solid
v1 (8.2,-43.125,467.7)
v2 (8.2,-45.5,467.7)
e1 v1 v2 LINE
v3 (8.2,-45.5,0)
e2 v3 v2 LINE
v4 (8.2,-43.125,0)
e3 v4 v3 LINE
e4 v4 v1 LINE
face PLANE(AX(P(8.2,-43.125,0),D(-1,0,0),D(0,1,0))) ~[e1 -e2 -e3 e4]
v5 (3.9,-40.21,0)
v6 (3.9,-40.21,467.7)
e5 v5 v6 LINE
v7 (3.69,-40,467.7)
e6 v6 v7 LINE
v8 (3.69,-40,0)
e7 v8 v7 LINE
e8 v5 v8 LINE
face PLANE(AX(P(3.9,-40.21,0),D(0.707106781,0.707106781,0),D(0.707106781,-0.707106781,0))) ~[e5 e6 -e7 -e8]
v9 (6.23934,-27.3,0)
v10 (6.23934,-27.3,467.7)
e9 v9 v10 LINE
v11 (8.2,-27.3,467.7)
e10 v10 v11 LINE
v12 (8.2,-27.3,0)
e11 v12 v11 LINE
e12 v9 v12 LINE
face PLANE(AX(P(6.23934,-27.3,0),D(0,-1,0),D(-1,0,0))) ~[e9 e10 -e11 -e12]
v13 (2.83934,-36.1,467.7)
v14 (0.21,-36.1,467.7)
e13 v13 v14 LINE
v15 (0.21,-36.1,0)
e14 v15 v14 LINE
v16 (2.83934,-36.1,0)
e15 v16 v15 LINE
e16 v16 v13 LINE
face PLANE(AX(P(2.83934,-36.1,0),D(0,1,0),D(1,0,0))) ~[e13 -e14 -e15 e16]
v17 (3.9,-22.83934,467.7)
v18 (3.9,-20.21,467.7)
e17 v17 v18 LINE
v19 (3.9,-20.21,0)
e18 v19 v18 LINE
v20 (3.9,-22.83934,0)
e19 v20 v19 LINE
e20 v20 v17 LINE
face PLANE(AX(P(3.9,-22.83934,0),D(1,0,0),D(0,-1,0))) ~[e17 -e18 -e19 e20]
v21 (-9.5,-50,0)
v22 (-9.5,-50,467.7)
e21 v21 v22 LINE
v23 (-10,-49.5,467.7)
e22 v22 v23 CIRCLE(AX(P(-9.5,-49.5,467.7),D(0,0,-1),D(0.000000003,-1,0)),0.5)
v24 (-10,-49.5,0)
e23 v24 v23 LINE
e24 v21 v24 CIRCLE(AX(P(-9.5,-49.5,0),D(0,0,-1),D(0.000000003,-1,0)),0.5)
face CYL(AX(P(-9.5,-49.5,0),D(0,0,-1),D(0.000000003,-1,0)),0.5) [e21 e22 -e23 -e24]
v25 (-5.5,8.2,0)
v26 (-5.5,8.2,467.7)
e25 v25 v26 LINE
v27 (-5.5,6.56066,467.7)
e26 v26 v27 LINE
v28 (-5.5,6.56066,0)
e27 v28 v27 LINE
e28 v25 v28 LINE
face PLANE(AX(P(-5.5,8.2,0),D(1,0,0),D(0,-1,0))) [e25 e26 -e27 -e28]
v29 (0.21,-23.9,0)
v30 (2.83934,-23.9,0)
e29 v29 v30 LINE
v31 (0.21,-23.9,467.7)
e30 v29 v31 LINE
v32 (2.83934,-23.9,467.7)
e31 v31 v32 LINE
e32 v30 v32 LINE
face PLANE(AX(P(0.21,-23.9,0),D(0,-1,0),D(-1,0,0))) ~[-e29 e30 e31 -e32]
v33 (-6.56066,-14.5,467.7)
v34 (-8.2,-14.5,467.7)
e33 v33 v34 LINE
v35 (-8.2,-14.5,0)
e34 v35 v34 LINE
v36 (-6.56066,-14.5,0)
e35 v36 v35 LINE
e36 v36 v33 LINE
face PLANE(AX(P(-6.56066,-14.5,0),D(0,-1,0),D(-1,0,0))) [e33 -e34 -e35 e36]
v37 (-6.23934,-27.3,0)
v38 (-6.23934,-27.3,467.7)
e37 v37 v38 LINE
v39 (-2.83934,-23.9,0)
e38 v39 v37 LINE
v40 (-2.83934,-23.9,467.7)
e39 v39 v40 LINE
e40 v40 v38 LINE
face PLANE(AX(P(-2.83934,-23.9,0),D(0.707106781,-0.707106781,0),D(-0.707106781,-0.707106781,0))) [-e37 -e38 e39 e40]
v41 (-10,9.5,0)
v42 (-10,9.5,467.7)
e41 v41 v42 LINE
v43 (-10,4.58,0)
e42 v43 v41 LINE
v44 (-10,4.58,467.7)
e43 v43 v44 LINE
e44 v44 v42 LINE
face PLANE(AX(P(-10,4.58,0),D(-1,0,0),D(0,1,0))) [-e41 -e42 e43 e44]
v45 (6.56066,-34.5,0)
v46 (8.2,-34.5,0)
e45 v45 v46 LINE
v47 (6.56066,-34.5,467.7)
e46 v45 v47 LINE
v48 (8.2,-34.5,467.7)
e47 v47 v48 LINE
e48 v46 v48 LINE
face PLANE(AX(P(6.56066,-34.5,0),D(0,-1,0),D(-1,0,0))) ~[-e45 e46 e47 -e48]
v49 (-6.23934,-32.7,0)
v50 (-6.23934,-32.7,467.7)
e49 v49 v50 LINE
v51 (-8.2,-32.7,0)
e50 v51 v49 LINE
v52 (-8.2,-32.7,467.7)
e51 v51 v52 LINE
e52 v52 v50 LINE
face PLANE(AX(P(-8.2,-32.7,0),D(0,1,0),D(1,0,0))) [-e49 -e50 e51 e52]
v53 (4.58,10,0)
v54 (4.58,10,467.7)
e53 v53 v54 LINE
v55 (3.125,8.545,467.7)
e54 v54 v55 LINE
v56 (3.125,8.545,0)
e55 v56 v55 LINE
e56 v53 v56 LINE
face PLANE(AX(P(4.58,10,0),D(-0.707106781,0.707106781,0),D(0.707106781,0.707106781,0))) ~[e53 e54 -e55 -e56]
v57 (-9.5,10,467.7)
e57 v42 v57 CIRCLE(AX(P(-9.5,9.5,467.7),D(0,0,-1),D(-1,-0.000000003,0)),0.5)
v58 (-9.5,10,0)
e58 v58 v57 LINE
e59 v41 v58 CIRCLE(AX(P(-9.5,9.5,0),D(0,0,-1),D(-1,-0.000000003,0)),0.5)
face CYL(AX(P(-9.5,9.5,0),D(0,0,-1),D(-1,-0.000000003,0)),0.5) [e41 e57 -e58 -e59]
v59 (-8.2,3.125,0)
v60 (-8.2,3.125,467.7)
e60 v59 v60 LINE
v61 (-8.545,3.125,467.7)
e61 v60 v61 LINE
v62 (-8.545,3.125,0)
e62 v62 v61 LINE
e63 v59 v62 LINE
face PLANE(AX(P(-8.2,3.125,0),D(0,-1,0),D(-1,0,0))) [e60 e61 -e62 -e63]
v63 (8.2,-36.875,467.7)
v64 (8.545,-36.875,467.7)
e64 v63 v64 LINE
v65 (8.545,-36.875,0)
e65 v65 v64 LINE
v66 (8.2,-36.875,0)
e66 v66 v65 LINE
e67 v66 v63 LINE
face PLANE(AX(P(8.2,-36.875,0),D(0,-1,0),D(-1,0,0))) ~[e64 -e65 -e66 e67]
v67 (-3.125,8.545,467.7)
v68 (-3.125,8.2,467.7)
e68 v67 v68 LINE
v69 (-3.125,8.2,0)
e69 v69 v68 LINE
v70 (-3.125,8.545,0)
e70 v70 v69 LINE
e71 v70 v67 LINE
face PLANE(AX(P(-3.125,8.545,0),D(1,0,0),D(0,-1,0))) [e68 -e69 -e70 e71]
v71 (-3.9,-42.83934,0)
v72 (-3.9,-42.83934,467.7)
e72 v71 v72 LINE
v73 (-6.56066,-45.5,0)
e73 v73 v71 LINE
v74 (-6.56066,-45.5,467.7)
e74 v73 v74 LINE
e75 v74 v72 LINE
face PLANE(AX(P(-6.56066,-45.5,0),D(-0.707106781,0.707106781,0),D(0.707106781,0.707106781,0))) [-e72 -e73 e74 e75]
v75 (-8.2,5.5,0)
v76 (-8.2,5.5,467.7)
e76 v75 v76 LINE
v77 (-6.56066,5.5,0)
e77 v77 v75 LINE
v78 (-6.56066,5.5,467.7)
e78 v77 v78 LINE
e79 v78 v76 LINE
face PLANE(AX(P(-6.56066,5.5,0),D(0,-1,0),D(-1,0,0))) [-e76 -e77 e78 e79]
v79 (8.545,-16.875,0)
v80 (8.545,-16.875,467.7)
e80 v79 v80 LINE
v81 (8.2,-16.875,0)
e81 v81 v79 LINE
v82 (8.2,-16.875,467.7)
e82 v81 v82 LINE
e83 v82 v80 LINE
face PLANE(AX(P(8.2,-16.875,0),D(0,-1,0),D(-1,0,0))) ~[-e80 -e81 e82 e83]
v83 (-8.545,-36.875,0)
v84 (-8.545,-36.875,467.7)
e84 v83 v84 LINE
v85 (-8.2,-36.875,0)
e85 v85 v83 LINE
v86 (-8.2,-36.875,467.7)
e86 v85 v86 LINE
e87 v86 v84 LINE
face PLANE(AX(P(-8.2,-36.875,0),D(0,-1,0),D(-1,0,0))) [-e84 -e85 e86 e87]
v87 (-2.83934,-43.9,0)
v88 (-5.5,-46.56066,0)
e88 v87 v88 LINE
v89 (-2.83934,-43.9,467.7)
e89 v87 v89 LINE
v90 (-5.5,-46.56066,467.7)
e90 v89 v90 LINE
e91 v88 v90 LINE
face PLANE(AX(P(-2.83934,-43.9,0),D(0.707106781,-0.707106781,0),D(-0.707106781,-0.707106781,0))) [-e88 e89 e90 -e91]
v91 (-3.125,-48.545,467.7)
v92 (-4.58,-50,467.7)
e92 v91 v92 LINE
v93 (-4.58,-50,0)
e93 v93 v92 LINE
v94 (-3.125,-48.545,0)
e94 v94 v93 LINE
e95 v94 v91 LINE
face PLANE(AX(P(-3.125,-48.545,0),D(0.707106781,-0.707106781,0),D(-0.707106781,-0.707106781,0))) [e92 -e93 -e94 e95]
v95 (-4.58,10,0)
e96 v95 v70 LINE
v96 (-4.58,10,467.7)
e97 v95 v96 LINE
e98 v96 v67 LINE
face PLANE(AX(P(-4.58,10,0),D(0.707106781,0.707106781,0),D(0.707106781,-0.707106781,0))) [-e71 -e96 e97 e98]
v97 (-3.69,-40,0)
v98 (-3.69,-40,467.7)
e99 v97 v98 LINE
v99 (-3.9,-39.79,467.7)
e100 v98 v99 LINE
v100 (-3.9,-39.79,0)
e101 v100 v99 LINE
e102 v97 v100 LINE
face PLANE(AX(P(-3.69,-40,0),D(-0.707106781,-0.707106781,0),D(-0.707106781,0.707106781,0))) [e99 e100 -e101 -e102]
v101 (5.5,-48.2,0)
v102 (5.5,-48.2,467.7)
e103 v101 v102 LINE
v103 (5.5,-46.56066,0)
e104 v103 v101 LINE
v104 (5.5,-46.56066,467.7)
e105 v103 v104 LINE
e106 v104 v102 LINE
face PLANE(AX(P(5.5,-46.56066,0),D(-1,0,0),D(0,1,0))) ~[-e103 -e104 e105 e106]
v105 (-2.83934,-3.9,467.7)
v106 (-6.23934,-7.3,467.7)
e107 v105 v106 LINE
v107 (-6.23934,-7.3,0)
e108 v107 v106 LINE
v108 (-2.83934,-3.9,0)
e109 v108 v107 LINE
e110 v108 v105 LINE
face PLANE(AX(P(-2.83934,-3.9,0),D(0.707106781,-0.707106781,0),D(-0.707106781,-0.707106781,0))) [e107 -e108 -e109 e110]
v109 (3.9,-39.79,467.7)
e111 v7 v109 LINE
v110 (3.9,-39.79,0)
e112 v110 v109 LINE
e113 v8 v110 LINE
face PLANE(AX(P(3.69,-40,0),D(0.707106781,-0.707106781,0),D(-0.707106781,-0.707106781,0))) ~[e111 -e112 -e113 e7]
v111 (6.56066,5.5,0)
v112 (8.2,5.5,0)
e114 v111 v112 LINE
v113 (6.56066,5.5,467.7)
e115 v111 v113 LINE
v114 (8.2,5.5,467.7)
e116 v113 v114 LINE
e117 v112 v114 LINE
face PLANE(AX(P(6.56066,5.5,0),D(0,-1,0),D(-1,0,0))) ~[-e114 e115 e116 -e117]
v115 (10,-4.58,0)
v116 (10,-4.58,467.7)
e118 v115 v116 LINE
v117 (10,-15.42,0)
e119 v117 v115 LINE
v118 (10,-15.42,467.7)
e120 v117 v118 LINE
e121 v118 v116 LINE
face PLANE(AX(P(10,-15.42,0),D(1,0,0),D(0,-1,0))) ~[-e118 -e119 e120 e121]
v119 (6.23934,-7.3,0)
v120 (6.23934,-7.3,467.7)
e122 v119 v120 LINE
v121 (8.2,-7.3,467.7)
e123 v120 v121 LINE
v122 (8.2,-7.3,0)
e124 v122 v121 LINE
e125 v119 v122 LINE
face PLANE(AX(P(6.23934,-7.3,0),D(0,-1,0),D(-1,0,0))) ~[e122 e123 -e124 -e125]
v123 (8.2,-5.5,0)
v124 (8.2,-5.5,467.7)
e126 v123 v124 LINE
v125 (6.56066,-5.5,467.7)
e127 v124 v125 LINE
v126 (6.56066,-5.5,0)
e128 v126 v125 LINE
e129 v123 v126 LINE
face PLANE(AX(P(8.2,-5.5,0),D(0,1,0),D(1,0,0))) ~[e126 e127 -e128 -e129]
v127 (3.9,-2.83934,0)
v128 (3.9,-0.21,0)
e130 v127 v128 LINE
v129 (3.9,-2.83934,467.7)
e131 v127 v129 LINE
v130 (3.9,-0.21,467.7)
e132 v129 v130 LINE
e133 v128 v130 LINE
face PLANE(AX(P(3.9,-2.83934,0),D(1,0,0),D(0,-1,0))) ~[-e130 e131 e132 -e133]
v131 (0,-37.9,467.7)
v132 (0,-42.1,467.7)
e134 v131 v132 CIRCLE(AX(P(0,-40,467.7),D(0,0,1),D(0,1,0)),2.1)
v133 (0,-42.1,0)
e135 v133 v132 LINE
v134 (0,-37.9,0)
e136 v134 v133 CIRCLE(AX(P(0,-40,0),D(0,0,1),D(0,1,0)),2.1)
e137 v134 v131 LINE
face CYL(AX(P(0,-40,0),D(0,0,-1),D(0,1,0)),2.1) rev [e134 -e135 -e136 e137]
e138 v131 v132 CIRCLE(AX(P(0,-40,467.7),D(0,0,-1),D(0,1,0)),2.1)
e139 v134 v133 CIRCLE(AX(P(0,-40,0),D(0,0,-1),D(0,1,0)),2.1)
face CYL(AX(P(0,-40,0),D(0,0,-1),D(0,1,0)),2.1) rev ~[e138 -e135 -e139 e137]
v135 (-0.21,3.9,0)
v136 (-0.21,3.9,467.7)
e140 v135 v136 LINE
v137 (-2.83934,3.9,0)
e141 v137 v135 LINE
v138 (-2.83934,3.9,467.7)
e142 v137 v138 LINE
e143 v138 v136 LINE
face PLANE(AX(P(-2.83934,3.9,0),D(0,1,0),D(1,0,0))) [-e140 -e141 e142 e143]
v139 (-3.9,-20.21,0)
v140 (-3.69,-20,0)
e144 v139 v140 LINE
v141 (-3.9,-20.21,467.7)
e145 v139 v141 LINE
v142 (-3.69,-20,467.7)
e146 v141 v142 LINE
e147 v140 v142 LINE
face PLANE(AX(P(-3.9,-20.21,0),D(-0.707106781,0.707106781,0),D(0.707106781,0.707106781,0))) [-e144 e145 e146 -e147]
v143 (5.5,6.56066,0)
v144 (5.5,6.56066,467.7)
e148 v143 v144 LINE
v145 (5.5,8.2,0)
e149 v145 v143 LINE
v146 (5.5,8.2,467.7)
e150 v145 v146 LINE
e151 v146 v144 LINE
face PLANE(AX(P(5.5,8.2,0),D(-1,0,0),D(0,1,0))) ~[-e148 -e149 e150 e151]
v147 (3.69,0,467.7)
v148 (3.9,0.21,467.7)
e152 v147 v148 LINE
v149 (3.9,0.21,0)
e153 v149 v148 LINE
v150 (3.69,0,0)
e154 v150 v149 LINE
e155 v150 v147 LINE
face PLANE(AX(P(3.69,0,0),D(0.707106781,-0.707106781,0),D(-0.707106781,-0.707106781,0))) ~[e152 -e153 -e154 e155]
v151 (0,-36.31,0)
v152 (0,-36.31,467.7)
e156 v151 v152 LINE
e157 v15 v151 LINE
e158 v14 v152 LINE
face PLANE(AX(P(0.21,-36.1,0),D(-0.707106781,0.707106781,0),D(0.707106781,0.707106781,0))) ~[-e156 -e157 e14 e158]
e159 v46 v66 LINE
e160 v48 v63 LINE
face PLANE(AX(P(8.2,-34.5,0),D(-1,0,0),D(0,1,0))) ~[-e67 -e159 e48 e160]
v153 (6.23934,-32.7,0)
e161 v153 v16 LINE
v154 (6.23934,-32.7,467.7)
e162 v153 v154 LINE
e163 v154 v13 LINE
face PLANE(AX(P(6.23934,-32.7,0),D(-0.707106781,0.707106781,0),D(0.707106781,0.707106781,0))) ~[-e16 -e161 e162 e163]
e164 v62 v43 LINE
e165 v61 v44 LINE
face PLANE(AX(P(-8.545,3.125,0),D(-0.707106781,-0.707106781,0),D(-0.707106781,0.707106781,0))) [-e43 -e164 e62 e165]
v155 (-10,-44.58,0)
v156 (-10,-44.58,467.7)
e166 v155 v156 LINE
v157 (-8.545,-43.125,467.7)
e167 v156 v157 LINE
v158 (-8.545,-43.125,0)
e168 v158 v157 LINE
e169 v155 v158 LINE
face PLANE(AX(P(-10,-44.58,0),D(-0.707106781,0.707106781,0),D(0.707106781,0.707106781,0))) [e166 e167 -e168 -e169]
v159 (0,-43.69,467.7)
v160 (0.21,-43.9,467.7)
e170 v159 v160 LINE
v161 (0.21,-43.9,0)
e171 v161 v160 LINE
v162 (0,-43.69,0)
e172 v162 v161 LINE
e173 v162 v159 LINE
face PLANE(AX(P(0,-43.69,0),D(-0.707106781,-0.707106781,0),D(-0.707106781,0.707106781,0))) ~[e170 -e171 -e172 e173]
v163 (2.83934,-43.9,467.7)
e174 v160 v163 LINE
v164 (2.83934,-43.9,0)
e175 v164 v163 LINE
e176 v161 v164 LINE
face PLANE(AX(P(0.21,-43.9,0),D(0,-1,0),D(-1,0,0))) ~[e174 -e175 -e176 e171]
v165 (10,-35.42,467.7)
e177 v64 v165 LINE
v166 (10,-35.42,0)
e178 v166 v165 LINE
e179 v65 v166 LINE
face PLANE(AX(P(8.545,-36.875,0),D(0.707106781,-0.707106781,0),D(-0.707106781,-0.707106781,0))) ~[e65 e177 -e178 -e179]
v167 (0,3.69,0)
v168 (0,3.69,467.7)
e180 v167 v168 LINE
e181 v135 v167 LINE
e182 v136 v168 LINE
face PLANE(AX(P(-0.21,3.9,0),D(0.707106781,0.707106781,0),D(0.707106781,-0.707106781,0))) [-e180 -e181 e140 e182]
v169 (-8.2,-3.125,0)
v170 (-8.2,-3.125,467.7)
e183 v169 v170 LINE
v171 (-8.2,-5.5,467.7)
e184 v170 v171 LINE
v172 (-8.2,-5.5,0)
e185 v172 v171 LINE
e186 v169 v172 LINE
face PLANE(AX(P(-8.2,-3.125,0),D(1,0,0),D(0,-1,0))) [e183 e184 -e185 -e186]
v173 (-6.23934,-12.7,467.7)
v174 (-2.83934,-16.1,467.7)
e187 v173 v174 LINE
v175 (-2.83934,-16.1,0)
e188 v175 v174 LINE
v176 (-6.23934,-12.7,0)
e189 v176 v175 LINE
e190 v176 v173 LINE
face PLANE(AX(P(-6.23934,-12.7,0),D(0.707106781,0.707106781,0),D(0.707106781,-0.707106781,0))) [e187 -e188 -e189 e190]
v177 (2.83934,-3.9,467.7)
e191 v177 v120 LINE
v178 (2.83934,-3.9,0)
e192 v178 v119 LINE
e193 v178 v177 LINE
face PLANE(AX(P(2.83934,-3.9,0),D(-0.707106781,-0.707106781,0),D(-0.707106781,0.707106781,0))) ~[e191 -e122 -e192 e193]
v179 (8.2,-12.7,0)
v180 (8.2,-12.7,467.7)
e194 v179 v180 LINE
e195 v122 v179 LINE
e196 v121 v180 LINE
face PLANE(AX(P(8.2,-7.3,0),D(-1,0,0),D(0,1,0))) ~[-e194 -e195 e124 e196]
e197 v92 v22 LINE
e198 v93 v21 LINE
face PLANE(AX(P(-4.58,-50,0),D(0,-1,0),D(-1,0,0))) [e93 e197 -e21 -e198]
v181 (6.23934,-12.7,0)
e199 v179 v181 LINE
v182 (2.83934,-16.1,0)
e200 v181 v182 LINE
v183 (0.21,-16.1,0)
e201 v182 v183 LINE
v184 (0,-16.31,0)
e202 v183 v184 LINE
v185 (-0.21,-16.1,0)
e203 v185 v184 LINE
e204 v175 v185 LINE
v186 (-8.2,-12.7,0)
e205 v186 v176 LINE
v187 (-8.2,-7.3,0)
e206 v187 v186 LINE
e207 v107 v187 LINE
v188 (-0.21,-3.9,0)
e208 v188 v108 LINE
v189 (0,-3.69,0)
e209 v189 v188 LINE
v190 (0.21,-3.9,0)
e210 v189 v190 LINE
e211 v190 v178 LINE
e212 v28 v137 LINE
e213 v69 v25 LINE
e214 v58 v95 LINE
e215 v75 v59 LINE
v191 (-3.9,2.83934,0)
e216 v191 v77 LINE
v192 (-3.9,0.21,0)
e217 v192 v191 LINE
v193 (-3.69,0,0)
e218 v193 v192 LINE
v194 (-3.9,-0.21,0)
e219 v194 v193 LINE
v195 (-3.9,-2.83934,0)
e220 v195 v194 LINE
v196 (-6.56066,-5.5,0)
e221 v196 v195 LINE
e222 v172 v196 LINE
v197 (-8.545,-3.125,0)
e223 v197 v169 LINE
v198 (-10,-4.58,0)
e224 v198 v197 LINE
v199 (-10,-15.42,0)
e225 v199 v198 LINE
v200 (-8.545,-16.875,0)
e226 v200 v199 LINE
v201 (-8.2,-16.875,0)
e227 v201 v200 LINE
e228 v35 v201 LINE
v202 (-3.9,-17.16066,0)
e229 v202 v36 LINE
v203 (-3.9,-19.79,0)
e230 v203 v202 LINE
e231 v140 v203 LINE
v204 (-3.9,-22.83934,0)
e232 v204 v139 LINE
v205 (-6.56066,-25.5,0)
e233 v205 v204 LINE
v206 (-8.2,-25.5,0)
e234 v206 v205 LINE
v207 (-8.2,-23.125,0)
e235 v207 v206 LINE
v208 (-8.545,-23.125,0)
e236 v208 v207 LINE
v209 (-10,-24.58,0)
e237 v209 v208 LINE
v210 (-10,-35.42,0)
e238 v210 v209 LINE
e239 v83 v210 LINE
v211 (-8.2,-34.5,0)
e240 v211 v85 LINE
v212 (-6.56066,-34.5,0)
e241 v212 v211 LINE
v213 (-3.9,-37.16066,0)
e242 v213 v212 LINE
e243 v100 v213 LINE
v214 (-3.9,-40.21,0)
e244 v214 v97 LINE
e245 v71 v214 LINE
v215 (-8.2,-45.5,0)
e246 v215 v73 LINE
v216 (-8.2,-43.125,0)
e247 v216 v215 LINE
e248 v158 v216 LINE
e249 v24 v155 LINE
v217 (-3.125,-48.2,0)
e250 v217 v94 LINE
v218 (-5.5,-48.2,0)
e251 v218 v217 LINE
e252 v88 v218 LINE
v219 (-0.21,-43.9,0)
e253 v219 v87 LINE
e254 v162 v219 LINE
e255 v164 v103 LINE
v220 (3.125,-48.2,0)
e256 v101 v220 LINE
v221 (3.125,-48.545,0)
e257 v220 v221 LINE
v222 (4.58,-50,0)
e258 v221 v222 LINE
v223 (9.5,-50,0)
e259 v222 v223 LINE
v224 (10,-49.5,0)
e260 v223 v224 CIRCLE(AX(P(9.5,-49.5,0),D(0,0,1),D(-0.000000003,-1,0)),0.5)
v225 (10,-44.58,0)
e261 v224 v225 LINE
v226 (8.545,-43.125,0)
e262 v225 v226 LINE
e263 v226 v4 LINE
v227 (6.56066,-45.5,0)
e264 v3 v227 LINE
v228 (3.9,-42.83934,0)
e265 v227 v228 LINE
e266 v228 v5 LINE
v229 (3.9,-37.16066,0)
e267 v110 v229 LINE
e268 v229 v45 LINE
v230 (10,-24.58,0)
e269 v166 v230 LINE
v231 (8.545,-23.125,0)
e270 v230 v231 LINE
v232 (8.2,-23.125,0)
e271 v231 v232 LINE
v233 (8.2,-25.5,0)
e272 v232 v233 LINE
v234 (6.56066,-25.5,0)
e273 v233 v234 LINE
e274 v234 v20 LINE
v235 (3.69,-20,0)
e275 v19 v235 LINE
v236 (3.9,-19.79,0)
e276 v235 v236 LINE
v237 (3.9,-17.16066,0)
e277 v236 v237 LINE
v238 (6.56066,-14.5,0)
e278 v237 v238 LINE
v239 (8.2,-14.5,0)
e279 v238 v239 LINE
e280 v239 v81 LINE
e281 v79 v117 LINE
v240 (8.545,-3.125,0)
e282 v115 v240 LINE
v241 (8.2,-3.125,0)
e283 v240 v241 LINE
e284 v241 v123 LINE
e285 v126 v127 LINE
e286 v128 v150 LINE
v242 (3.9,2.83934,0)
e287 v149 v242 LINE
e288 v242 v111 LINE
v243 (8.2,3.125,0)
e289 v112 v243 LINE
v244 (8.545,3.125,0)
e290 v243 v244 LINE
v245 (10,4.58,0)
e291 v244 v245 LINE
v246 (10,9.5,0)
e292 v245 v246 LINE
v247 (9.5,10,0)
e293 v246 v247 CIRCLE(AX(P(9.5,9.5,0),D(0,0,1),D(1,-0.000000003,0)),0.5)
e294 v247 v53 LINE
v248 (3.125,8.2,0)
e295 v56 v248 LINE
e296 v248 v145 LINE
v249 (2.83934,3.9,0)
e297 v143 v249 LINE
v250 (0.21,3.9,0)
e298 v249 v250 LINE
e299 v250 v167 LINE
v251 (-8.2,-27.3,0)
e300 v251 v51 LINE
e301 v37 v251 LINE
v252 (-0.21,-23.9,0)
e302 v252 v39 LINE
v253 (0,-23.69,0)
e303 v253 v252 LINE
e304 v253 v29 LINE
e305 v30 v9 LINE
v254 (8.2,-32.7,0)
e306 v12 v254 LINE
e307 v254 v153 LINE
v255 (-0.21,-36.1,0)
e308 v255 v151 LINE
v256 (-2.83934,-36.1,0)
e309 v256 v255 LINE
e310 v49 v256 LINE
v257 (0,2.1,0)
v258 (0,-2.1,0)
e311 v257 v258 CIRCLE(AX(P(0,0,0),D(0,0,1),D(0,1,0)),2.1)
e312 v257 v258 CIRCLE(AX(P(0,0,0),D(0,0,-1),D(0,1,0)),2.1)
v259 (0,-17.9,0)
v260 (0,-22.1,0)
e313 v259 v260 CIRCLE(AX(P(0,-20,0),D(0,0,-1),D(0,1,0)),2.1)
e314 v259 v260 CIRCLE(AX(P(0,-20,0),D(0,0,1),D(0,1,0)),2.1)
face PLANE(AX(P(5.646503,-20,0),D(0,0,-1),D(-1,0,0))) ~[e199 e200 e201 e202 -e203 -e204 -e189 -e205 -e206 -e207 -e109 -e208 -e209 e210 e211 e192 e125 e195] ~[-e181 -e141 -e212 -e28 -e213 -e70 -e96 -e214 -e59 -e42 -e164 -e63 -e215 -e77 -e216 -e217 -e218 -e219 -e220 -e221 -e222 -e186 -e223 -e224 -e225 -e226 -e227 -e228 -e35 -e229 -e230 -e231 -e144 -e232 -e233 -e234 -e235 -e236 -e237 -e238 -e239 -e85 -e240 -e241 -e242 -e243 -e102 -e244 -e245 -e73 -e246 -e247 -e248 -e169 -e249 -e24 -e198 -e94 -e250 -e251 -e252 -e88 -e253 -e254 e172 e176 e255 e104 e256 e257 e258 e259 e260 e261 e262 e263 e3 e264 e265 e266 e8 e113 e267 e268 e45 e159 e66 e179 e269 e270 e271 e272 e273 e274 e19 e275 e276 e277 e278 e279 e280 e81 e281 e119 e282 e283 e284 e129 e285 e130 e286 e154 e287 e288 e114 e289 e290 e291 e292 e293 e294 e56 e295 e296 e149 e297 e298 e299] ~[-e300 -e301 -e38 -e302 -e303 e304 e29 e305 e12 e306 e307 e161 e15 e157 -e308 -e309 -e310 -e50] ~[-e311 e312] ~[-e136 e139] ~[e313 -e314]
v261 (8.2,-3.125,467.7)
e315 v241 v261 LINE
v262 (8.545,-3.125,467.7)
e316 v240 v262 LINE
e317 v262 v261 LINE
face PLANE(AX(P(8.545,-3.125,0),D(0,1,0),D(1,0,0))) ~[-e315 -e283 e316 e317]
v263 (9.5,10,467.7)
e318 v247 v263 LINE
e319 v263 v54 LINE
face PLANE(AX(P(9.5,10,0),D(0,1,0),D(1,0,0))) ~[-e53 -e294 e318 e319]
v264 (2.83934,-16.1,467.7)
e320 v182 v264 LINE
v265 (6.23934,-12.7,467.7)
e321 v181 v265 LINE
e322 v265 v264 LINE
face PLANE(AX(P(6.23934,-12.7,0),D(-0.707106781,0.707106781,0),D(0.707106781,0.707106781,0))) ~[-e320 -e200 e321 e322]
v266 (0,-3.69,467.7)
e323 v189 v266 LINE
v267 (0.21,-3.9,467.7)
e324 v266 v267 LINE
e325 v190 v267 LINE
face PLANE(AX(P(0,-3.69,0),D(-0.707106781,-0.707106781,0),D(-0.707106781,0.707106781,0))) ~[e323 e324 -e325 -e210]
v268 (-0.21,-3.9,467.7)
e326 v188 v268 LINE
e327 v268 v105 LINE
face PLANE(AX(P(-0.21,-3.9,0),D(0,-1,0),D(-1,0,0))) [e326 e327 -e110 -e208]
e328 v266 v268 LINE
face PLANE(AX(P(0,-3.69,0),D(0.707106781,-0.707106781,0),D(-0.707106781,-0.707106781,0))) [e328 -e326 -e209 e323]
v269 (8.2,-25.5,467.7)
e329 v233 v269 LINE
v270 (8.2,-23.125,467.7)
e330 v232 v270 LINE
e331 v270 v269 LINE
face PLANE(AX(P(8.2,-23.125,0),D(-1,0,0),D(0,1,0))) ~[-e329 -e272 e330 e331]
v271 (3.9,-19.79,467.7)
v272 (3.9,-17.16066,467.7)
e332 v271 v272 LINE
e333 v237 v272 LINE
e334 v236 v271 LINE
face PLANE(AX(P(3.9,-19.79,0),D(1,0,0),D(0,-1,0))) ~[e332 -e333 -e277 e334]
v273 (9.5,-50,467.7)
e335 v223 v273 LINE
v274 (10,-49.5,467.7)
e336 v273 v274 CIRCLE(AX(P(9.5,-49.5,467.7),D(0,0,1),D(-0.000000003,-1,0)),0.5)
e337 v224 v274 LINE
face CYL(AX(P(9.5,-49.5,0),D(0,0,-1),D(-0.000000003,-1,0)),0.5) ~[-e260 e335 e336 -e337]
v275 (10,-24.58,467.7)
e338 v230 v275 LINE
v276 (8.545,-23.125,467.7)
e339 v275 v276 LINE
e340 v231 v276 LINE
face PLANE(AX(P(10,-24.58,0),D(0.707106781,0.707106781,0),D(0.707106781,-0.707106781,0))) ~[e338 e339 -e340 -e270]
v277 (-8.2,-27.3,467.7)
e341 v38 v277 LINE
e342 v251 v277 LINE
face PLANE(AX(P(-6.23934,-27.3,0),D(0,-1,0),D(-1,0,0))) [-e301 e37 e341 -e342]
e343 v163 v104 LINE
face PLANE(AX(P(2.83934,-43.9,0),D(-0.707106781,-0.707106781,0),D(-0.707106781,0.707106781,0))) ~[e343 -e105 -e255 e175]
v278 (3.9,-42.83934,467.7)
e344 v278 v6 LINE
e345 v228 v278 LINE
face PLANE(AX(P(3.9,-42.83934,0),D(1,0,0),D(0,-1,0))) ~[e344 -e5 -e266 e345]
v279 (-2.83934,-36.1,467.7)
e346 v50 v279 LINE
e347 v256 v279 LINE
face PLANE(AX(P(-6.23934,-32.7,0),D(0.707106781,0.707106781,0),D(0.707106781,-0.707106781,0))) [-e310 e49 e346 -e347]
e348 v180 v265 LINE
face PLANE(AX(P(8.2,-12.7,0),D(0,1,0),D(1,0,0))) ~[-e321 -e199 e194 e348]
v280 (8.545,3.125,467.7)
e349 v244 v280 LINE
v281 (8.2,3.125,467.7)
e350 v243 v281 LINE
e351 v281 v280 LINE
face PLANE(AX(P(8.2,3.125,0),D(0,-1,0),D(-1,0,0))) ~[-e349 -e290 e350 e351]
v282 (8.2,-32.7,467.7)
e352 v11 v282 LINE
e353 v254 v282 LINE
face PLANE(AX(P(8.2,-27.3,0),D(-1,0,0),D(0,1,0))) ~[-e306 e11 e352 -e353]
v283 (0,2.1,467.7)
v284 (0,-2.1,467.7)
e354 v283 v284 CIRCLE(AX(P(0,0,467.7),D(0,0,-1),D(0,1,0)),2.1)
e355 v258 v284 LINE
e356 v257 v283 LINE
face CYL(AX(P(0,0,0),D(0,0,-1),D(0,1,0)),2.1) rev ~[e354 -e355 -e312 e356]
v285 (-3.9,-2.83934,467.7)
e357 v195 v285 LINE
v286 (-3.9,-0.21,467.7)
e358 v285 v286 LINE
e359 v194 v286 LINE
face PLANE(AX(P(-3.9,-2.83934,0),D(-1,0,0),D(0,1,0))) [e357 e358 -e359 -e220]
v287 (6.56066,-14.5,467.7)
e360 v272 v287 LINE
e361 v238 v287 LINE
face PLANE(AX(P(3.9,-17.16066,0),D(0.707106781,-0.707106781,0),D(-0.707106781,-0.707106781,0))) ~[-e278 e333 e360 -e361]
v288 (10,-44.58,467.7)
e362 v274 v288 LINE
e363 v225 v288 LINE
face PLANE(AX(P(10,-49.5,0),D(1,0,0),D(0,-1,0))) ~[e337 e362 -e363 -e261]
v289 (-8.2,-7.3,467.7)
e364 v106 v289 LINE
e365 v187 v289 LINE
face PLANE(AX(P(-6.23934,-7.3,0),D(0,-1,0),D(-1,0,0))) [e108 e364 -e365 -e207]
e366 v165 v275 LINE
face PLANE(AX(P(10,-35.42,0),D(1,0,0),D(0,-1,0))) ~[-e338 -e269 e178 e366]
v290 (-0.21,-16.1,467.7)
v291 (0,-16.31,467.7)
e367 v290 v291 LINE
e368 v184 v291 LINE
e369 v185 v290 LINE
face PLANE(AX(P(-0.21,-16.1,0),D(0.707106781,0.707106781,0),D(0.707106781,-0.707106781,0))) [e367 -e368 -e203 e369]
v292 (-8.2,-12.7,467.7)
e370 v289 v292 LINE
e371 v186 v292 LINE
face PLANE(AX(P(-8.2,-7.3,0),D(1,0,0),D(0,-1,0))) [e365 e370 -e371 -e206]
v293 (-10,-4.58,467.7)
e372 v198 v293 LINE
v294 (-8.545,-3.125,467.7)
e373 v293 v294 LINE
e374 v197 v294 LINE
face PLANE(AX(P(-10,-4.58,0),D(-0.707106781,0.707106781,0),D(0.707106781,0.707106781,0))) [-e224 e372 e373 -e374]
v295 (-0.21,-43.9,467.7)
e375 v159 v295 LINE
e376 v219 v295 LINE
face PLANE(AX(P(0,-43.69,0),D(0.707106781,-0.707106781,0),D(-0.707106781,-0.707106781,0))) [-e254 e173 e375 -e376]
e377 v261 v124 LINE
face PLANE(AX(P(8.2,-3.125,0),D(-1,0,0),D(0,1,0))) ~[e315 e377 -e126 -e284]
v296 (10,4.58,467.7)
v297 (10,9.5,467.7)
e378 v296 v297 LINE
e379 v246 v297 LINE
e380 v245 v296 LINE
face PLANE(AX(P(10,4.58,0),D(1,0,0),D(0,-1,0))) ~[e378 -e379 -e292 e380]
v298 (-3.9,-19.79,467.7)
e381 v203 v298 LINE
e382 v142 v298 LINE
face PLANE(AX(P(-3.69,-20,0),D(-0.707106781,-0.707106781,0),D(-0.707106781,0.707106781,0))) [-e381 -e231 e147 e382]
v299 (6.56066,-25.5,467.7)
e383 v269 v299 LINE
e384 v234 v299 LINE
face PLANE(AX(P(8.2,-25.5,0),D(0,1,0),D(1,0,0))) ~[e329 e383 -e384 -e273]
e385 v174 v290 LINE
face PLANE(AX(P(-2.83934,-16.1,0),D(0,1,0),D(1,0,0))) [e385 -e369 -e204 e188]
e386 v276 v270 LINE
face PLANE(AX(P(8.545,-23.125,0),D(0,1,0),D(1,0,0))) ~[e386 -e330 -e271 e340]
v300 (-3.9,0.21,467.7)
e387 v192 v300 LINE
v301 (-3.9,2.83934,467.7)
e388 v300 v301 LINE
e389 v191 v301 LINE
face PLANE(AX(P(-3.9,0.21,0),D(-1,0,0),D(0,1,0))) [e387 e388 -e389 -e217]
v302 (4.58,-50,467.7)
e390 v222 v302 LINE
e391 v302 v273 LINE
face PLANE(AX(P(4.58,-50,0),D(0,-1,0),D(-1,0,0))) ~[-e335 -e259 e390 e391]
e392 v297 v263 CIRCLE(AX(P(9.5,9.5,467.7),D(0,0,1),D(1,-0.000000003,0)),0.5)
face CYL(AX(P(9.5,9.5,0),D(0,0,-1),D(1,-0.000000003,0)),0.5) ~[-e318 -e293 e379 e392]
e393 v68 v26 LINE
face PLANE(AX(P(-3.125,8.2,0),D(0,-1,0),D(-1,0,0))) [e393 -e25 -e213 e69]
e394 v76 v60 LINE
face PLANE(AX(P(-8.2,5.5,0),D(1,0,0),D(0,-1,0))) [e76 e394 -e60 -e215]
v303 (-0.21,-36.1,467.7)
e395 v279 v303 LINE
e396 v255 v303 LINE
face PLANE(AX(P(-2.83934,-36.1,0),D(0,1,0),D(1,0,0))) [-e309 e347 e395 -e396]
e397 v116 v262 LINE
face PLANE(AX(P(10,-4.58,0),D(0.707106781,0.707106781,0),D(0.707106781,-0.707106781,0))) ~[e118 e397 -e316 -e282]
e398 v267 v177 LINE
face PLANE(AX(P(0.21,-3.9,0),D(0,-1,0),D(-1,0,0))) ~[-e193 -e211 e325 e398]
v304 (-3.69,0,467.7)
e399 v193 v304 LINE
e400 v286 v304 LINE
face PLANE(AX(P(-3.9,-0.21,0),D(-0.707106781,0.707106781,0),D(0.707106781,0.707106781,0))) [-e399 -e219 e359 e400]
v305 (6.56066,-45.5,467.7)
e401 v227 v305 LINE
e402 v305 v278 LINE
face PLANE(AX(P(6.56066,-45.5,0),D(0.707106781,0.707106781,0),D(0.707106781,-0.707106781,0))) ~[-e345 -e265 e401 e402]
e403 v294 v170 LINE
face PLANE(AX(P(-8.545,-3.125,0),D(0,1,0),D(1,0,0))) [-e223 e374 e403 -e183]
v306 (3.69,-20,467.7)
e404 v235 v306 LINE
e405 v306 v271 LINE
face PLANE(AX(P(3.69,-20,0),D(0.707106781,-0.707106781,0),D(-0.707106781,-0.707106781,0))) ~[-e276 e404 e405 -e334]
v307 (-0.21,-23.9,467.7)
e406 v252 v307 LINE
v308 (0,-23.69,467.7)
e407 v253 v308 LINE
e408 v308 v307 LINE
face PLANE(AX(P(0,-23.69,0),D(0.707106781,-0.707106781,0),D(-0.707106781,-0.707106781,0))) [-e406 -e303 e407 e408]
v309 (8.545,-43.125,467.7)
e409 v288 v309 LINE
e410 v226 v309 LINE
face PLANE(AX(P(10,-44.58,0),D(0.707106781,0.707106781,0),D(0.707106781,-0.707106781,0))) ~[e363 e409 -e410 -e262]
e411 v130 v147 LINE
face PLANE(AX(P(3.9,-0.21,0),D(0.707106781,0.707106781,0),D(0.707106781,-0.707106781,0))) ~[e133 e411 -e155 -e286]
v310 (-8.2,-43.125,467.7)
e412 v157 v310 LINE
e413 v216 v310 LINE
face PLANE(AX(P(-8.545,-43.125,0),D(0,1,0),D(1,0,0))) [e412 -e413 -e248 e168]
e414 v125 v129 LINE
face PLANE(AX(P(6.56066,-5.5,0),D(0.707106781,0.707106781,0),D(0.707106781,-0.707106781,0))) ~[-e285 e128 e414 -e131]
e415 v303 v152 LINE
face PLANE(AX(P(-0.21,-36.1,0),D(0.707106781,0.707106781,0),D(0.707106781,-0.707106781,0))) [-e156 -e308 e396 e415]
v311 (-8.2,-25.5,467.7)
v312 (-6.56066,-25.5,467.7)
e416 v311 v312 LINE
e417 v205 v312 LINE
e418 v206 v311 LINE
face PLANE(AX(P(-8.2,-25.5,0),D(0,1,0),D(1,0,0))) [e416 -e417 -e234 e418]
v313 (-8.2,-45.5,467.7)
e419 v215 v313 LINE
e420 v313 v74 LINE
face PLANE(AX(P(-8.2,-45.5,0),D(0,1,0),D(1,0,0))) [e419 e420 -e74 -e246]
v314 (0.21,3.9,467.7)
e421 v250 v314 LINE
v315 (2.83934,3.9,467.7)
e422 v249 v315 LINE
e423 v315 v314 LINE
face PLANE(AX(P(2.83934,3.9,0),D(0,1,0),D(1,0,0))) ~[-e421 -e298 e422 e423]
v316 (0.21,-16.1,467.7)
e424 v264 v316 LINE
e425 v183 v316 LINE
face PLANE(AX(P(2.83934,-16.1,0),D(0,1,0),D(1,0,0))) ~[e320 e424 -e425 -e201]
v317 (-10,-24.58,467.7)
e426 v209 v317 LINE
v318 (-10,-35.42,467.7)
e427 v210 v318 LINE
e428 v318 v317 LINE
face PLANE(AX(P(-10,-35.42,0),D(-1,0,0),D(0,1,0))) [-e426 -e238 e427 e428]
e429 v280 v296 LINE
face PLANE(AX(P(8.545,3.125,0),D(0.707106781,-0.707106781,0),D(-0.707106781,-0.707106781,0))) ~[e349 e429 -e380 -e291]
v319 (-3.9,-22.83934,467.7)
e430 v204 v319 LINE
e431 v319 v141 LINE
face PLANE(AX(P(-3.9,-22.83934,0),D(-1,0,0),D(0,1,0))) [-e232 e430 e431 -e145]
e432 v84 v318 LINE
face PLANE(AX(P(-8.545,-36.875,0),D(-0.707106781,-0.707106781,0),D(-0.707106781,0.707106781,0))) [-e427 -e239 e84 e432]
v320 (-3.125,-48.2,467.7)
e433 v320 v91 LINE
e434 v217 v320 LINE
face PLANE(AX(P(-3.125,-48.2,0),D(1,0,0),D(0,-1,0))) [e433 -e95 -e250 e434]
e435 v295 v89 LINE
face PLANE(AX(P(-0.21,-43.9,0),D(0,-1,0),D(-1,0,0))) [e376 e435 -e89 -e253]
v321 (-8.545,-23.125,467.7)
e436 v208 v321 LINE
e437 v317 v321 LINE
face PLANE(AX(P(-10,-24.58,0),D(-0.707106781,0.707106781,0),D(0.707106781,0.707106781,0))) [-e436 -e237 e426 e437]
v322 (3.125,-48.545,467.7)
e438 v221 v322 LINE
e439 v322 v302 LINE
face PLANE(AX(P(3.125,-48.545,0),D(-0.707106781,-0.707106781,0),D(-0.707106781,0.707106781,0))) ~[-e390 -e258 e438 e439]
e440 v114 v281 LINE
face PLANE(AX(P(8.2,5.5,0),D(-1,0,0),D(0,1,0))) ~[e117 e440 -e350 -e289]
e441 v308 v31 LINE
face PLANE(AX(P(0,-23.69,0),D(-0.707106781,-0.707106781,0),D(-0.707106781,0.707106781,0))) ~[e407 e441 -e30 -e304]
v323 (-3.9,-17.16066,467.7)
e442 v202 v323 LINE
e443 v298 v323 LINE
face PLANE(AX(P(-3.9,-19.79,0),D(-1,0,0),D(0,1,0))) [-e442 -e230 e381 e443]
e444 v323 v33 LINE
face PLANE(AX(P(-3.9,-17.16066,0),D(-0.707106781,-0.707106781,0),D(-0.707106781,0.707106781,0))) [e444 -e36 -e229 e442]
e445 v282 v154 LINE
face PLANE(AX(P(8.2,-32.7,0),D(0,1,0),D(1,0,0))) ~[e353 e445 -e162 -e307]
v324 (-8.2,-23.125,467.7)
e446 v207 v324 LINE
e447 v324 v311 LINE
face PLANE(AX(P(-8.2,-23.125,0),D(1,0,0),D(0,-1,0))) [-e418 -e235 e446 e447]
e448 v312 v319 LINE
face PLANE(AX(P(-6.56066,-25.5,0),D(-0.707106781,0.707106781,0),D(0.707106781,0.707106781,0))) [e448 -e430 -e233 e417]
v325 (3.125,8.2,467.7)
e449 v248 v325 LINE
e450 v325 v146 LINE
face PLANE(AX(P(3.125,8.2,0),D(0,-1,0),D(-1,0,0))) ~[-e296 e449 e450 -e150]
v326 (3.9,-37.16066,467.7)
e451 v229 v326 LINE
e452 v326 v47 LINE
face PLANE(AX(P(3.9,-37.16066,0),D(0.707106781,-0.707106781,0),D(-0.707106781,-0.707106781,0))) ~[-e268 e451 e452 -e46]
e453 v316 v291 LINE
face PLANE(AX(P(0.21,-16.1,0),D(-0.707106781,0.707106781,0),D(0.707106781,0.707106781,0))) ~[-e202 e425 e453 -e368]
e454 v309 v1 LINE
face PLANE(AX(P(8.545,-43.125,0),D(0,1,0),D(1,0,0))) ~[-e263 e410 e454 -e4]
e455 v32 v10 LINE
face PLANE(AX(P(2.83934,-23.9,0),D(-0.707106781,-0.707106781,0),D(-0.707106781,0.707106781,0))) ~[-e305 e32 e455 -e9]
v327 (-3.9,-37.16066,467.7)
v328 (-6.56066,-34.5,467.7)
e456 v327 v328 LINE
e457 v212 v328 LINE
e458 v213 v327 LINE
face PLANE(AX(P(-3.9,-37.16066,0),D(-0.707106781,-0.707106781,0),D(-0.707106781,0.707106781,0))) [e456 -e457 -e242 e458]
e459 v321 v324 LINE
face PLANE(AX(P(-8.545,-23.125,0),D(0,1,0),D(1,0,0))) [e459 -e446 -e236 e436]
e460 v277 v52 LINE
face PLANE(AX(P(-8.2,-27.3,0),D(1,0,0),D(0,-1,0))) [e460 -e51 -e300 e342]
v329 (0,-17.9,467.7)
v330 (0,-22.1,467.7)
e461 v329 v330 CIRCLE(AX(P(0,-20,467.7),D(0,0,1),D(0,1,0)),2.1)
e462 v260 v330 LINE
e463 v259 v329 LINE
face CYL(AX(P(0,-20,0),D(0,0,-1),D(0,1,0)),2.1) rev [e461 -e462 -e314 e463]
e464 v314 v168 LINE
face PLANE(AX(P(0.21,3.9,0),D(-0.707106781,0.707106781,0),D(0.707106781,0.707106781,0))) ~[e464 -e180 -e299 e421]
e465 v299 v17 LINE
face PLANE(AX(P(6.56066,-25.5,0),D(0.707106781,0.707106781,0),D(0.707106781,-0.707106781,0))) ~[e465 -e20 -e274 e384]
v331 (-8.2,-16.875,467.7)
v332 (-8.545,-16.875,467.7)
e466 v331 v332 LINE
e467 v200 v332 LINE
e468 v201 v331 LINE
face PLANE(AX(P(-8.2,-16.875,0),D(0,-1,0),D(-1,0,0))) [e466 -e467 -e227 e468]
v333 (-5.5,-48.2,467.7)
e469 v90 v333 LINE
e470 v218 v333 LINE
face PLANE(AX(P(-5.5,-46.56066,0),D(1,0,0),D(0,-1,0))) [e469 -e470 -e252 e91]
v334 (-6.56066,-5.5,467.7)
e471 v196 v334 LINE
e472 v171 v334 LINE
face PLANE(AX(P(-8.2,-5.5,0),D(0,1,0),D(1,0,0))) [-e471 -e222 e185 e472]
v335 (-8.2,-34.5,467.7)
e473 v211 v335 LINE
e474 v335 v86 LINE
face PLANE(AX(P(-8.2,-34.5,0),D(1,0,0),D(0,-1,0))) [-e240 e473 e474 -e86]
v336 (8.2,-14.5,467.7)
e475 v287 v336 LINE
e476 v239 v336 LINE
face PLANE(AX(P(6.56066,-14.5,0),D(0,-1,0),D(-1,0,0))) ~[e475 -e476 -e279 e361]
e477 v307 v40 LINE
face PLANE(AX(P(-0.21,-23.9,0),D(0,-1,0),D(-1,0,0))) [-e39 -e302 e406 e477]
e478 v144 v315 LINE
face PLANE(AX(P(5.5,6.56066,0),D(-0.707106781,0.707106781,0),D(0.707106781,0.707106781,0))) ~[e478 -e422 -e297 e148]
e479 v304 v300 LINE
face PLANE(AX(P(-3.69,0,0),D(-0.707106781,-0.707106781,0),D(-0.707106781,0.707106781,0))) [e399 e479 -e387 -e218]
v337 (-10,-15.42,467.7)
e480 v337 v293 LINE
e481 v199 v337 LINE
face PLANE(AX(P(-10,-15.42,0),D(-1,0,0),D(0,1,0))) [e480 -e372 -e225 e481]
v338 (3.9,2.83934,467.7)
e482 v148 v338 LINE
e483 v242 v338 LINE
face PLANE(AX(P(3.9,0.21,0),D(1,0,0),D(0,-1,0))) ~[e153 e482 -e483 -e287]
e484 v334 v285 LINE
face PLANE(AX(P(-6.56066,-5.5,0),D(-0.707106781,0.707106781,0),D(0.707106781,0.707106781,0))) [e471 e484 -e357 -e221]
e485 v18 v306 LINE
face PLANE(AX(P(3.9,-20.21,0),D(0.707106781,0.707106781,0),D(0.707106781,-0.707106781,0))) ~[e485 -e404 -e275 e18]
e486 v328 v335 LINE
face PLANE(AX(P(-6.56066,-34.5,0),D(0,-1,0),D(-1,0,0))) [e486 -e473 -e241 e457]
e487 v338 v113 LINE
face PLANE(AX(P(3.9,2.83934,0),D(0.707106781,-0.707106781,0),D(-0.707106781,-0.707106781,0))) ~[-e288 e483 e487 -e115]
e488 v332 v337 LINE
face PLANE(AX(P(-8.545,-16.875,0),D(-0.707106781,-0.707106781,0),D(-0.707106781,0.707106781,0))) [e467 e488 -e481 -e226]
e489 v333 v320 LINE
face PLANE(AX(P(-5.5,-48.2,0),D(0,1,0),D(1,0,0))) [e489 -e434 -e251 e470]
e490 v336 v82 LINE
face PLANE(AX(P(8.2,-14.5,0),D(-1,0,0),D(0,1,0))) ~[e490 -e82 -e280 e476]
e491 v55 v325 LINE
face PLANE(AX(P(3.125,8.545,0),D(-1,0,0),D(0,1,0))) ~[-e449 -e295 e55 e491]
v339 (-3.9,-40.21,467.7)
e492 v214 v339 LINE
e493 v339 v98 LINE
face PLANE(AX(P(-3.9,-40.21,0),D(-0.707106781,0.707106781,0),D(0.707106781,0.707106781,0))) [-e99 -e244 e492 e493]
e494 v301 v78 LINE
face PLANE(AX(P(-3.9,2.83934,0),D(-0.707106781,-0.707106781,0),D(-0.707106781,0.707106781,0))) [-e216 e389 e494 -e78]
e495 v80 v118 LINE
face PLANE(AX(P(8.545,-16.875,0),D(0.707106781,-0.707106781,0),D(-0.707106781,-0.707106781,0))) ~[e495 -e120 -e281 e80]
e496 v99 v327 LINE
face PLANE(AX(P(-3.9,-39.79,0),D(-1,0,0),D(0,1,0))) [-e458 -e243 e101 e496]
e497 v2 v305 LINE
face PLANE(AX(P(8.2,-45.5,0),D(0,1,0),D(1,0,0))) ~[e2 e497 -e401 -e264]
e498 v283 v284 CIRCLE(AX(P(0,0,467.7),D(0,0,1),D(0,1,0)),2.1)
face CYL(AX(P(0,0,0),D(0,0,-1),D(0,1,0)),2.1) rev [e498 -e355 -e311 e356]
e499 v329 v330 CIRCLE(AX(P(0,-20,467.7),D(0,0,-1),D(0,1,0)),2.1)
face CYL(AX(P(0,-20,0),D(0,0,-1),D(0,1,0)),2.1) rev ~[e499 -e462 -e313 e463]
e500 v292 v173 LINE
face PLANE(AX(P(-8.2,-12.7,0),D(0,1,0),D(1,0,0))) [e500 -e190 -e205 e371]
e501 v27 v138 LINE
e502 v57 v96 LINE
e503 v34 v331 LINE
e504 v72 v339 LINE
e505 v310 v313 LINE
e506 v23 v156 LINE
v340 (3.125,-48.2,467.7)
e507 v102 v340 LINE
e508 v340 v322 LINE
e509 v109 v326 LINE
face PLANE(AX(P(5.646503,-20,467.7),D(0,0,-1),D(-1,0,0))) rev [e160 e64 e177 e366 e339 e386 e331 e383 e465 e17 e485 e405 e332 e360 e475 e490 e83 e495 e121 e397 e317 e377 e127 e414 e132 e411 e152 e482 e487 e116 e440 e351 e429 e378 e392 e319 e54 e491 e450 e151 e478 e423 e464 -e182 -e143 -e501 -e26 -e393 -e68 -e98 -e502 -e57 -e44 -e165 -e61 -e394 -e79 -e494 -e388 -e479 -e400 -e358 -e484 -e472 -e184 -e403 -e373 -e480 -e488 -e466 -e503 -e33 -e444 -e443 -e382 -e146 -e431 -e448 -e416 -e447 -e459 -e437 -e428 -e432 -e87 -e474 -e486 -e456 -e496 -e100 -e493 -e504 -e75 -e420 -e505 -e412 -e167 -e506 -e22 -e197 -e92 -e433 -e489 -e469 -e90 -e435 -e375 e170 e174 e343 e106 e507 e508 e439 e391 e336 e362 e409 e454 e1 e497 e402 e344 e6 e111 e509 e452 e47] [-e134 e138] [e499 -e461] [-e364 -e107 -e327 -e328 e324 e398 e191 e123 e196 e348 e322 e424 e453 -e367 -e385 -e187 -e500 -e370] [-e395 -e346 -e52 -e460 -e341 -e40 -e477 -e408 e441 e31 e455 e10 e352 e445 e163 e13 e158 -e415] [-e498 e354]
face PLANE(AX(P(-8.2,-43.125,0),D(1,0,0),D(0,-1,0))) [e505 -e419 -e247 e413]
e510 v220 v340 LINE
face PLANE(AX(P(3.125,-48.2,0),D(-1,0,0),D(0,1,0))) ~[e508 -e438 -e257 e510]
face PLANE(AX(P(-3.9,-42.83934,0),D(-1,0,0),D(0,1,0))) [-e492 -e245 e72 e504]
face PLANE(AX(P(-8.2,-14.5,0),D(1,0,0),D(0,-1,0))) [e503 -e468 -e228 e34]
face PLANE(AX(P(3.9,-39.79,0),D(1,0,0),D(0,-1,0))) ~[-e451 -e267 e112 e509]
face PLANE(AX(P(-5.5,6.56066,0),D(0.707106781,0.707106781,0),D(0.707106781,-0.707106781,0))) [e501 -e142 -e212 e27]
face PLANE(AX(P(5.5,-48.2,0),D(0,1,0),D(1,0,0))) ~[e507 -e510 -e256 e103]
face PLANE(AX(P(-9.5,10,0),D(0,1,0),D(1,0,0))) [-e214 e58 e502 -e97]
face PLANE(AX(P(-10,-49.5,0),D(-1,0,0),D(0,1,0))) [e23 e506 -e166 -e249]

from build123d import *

# Parameters (mm, degrees)
BOSS_EXTRU_1_DEPTH = 467.7


with BuildPart() as part:
    # Esquisse1 → Boss.-Extru.1 (new body)
    with BuildSketch(Plane.XY):
        with BuildLine():
            Line((-9.5, 10), (-4.58, 10))
            Line((-4.58, 10), (-3.125, 8.545))
            Line((-3.125, 8.545), (-3.125, 8.2))
            Line((-3.125, 8.2), (-5.5, 8.2))
            Line((-5.5, 8.2), (-5.5, 6.560660172))
            Line((-5.5, 6.560660172), (-2.839339828, 3.9))
            Line((-2.839339828, 3.9), (-0.21, 3.9))
            Line((-0.21, 3.9), (0, 3.69))
            Line((0, 3.69), (0, 2.1))
            ThreePointArc((0, 2.1), (-2.1, 0), (0, -2.1))
            Line((0, -2.1), (0, -3.69))
            Line((0, -3.69), (-0.21, -3.9))
            Line((-0.21, -3.9), (-2.839339828, -3.9))
            Line((-2.839339828, -3.9), (-6.239339828, -7.3))
            Line((-6.239339828, -7.3), (-8.2, -7.3))
            Line((-8.2, -7.3), (-8.2, -12.7))
            Line((-8.2, -12.7), (-6.239339828, -12.7))
            Line((-6.239339828, -12.7), (-2.839339828, -16.1))
            Line((-2.839339828, -16.1), (-0.21, -16.1))
            Line((-0.21, -16.1), (0, -16.31))
            Line((0, -16.31), (0, -17.9))
            ThreePointArc((0, -17.9), (-2.1, -20), (0, -22.1))
            Line((0, -22.1), (0, -23.69))
            Line((0, -23.69), (-0.21, -23.9))
            Line((-0.21, -23.9), (-2.839339828, -23.9))
            Line((-2.839339828, -23.9), (-6.239339828, -27.3))
            Line((-6.239339828, -27.3), (-8.2, -27.3))
            Line((-8.2, -27.3), (-8.2, -32.7))
            Line((-8.2, -32.7), (-6.239339828, -32.7))
            Line((-6.239339828, -32.7), (-2.839339828, -36.1))
            Line((-2.839339828, -36.1), (-0.21, -36.1))
            Line((-0.21, -36.1), (0, -36.31))
            Line((0, -36.31), (0, -37.9))
            ThreePointArc((0, -37.9), (-2.1, -40), (0, -42.1))
            Line((0, -42.1), (0, -43.69))
            Line((0, -43.69), (-0.21, -43.9))
            Line((-0.21, -43.9), (-2.839339828, -43.9))
            Line((-2.839339828, -43.9), (-5.5, -46.560660172))
            Line((-5.5, -46.560660172), (-5.5, -48.2))
            Line((-5.5, -48.2), (-3.125, -48.2))
            Line((-3.125, -48.2), (-3.125, -48.545))
            Line((-3.125, -48.545), (-4.58, -50))
            Line((-4.58, -50), (-9.5, -50))
            ThreePointArc((-9.5, -50), (-9.853553391, -49.853553391), (-10, -49.5))
            Line((-10, -49.5), (-10, -44.58))
            Line((-10, -44.58), (-8.545, -43.125))
            Line((-8.545, -43.125), (-8.2, -43.125))
            Line((-8.2, -43.125), (-8.2, -45.5))
            Line((-8.2, -45.5), (-6.560660172, -45.5))
            Line((-6.560660172, -45.5), (-3.9, -42.839339828))
            Line((-3.9, -42.839339828), (-3.9, -40.21))
            Line((-3.9, -40.21), (-3.69, -40))
            Line((-3.69, -40), (-3.9, -39.79))
            Line((-3.9, -39.79), (-3.9, -37.160660172))
            Line((-3.9, -37.160660172), (-6.560660172, -34.5))
            Line((-6.560660172, -34.5), (-8.2, -34.5))
            Line((-8.2, -34.5), (-8.2, -36.875))
            Line((-8.2, -36.875), (-8.545, -36.875))
            Line((-8.545, -36.875), (-10, -35.42))
            Line((-10, -35.42), (-10, -24.58))
            Line((-10, -24.58), (-8.545, -23.125))
            Line((-8.545, -23.125), (-8.2, -23.125))
            Line((-8.2, -23.125), (-8.2, -25.5))
            Line((-8.2, -25.5), (-6.560660172, -25.5))
            Line((-6.560660172, -25.5), (-3.9, -22.839339828))
            Line((-3.9, -22.839339828), (-3.9, -20.21))
            Line((-3.9, -20.21), (-3.69, -20))
            Line((-3.69, -20), (-3.9, -19.79))
            Line((-3.9, -19.79), (-3.9, -17.160660172))
            Line((-3.9, -17.160660172), (-6.560660172, -14.5))
            Line((-6.560660172, -14.5), (-8.2, -14.5))
            Line((-8.2, -14.5), (-8.2, -16.875))
            Line((-8.2, -16.875), (-8.545, -16.875))
            Line((-8.545, -16.875), (-10, -15.42))
            Line((-10, -15.42), (-10, -4.58))
            Line((-10, -4.58), (-8.545, -3.125))
            Line((-8.545, -3.125), (-8.2, -3.125))
            Line((-8.2, -3.125), (-8.2, -5.5))
            Line((-8.2, -5.5), (-6.560660172, -5.5))
            Line((-6.560660172, -5.5), (-3.9, -2.839339828))
            Line((-3.9, -2.839339828), (-3.9, -0.21))
            Line((-3.9, -0.21), (-3.69, 0))
            Line((-3.69, 0), (-3.9, 0.21))
            Line((-3.9, 0.21), (-3.9, 2.839339828))
            Line((-3.9, 2.839339828), (-6.560660172, 5.5))
            Line((-6.560660172, 5.5), (-8.2, 5.5))
            Line((-8.2, 5.5), (-8.2, 3.125))
            Line((-8.2, 3.125), (-8.545, 3.125))
            Line((-8.545, 3.125), (-10, 4.58))
            Line((-10, 4.58), (-10, 9.5))
            ThreePointArc((-10, 9.5), (-9.853553391, 9.853553391), (-9.5, 10))
        make_face()
    boss_extru_1 = extrude(amount=BOSS_EXTRU_1_DEPTH)

    # Symétrie1: Boss.-Extru.1 across plane
    add(boss_extru_1.mirror(Plane(origin=(0, 3.69, 467.7), x_dir=(0, 0, 1), z_dir=(-1, 0, 0))))


solid = part.part
